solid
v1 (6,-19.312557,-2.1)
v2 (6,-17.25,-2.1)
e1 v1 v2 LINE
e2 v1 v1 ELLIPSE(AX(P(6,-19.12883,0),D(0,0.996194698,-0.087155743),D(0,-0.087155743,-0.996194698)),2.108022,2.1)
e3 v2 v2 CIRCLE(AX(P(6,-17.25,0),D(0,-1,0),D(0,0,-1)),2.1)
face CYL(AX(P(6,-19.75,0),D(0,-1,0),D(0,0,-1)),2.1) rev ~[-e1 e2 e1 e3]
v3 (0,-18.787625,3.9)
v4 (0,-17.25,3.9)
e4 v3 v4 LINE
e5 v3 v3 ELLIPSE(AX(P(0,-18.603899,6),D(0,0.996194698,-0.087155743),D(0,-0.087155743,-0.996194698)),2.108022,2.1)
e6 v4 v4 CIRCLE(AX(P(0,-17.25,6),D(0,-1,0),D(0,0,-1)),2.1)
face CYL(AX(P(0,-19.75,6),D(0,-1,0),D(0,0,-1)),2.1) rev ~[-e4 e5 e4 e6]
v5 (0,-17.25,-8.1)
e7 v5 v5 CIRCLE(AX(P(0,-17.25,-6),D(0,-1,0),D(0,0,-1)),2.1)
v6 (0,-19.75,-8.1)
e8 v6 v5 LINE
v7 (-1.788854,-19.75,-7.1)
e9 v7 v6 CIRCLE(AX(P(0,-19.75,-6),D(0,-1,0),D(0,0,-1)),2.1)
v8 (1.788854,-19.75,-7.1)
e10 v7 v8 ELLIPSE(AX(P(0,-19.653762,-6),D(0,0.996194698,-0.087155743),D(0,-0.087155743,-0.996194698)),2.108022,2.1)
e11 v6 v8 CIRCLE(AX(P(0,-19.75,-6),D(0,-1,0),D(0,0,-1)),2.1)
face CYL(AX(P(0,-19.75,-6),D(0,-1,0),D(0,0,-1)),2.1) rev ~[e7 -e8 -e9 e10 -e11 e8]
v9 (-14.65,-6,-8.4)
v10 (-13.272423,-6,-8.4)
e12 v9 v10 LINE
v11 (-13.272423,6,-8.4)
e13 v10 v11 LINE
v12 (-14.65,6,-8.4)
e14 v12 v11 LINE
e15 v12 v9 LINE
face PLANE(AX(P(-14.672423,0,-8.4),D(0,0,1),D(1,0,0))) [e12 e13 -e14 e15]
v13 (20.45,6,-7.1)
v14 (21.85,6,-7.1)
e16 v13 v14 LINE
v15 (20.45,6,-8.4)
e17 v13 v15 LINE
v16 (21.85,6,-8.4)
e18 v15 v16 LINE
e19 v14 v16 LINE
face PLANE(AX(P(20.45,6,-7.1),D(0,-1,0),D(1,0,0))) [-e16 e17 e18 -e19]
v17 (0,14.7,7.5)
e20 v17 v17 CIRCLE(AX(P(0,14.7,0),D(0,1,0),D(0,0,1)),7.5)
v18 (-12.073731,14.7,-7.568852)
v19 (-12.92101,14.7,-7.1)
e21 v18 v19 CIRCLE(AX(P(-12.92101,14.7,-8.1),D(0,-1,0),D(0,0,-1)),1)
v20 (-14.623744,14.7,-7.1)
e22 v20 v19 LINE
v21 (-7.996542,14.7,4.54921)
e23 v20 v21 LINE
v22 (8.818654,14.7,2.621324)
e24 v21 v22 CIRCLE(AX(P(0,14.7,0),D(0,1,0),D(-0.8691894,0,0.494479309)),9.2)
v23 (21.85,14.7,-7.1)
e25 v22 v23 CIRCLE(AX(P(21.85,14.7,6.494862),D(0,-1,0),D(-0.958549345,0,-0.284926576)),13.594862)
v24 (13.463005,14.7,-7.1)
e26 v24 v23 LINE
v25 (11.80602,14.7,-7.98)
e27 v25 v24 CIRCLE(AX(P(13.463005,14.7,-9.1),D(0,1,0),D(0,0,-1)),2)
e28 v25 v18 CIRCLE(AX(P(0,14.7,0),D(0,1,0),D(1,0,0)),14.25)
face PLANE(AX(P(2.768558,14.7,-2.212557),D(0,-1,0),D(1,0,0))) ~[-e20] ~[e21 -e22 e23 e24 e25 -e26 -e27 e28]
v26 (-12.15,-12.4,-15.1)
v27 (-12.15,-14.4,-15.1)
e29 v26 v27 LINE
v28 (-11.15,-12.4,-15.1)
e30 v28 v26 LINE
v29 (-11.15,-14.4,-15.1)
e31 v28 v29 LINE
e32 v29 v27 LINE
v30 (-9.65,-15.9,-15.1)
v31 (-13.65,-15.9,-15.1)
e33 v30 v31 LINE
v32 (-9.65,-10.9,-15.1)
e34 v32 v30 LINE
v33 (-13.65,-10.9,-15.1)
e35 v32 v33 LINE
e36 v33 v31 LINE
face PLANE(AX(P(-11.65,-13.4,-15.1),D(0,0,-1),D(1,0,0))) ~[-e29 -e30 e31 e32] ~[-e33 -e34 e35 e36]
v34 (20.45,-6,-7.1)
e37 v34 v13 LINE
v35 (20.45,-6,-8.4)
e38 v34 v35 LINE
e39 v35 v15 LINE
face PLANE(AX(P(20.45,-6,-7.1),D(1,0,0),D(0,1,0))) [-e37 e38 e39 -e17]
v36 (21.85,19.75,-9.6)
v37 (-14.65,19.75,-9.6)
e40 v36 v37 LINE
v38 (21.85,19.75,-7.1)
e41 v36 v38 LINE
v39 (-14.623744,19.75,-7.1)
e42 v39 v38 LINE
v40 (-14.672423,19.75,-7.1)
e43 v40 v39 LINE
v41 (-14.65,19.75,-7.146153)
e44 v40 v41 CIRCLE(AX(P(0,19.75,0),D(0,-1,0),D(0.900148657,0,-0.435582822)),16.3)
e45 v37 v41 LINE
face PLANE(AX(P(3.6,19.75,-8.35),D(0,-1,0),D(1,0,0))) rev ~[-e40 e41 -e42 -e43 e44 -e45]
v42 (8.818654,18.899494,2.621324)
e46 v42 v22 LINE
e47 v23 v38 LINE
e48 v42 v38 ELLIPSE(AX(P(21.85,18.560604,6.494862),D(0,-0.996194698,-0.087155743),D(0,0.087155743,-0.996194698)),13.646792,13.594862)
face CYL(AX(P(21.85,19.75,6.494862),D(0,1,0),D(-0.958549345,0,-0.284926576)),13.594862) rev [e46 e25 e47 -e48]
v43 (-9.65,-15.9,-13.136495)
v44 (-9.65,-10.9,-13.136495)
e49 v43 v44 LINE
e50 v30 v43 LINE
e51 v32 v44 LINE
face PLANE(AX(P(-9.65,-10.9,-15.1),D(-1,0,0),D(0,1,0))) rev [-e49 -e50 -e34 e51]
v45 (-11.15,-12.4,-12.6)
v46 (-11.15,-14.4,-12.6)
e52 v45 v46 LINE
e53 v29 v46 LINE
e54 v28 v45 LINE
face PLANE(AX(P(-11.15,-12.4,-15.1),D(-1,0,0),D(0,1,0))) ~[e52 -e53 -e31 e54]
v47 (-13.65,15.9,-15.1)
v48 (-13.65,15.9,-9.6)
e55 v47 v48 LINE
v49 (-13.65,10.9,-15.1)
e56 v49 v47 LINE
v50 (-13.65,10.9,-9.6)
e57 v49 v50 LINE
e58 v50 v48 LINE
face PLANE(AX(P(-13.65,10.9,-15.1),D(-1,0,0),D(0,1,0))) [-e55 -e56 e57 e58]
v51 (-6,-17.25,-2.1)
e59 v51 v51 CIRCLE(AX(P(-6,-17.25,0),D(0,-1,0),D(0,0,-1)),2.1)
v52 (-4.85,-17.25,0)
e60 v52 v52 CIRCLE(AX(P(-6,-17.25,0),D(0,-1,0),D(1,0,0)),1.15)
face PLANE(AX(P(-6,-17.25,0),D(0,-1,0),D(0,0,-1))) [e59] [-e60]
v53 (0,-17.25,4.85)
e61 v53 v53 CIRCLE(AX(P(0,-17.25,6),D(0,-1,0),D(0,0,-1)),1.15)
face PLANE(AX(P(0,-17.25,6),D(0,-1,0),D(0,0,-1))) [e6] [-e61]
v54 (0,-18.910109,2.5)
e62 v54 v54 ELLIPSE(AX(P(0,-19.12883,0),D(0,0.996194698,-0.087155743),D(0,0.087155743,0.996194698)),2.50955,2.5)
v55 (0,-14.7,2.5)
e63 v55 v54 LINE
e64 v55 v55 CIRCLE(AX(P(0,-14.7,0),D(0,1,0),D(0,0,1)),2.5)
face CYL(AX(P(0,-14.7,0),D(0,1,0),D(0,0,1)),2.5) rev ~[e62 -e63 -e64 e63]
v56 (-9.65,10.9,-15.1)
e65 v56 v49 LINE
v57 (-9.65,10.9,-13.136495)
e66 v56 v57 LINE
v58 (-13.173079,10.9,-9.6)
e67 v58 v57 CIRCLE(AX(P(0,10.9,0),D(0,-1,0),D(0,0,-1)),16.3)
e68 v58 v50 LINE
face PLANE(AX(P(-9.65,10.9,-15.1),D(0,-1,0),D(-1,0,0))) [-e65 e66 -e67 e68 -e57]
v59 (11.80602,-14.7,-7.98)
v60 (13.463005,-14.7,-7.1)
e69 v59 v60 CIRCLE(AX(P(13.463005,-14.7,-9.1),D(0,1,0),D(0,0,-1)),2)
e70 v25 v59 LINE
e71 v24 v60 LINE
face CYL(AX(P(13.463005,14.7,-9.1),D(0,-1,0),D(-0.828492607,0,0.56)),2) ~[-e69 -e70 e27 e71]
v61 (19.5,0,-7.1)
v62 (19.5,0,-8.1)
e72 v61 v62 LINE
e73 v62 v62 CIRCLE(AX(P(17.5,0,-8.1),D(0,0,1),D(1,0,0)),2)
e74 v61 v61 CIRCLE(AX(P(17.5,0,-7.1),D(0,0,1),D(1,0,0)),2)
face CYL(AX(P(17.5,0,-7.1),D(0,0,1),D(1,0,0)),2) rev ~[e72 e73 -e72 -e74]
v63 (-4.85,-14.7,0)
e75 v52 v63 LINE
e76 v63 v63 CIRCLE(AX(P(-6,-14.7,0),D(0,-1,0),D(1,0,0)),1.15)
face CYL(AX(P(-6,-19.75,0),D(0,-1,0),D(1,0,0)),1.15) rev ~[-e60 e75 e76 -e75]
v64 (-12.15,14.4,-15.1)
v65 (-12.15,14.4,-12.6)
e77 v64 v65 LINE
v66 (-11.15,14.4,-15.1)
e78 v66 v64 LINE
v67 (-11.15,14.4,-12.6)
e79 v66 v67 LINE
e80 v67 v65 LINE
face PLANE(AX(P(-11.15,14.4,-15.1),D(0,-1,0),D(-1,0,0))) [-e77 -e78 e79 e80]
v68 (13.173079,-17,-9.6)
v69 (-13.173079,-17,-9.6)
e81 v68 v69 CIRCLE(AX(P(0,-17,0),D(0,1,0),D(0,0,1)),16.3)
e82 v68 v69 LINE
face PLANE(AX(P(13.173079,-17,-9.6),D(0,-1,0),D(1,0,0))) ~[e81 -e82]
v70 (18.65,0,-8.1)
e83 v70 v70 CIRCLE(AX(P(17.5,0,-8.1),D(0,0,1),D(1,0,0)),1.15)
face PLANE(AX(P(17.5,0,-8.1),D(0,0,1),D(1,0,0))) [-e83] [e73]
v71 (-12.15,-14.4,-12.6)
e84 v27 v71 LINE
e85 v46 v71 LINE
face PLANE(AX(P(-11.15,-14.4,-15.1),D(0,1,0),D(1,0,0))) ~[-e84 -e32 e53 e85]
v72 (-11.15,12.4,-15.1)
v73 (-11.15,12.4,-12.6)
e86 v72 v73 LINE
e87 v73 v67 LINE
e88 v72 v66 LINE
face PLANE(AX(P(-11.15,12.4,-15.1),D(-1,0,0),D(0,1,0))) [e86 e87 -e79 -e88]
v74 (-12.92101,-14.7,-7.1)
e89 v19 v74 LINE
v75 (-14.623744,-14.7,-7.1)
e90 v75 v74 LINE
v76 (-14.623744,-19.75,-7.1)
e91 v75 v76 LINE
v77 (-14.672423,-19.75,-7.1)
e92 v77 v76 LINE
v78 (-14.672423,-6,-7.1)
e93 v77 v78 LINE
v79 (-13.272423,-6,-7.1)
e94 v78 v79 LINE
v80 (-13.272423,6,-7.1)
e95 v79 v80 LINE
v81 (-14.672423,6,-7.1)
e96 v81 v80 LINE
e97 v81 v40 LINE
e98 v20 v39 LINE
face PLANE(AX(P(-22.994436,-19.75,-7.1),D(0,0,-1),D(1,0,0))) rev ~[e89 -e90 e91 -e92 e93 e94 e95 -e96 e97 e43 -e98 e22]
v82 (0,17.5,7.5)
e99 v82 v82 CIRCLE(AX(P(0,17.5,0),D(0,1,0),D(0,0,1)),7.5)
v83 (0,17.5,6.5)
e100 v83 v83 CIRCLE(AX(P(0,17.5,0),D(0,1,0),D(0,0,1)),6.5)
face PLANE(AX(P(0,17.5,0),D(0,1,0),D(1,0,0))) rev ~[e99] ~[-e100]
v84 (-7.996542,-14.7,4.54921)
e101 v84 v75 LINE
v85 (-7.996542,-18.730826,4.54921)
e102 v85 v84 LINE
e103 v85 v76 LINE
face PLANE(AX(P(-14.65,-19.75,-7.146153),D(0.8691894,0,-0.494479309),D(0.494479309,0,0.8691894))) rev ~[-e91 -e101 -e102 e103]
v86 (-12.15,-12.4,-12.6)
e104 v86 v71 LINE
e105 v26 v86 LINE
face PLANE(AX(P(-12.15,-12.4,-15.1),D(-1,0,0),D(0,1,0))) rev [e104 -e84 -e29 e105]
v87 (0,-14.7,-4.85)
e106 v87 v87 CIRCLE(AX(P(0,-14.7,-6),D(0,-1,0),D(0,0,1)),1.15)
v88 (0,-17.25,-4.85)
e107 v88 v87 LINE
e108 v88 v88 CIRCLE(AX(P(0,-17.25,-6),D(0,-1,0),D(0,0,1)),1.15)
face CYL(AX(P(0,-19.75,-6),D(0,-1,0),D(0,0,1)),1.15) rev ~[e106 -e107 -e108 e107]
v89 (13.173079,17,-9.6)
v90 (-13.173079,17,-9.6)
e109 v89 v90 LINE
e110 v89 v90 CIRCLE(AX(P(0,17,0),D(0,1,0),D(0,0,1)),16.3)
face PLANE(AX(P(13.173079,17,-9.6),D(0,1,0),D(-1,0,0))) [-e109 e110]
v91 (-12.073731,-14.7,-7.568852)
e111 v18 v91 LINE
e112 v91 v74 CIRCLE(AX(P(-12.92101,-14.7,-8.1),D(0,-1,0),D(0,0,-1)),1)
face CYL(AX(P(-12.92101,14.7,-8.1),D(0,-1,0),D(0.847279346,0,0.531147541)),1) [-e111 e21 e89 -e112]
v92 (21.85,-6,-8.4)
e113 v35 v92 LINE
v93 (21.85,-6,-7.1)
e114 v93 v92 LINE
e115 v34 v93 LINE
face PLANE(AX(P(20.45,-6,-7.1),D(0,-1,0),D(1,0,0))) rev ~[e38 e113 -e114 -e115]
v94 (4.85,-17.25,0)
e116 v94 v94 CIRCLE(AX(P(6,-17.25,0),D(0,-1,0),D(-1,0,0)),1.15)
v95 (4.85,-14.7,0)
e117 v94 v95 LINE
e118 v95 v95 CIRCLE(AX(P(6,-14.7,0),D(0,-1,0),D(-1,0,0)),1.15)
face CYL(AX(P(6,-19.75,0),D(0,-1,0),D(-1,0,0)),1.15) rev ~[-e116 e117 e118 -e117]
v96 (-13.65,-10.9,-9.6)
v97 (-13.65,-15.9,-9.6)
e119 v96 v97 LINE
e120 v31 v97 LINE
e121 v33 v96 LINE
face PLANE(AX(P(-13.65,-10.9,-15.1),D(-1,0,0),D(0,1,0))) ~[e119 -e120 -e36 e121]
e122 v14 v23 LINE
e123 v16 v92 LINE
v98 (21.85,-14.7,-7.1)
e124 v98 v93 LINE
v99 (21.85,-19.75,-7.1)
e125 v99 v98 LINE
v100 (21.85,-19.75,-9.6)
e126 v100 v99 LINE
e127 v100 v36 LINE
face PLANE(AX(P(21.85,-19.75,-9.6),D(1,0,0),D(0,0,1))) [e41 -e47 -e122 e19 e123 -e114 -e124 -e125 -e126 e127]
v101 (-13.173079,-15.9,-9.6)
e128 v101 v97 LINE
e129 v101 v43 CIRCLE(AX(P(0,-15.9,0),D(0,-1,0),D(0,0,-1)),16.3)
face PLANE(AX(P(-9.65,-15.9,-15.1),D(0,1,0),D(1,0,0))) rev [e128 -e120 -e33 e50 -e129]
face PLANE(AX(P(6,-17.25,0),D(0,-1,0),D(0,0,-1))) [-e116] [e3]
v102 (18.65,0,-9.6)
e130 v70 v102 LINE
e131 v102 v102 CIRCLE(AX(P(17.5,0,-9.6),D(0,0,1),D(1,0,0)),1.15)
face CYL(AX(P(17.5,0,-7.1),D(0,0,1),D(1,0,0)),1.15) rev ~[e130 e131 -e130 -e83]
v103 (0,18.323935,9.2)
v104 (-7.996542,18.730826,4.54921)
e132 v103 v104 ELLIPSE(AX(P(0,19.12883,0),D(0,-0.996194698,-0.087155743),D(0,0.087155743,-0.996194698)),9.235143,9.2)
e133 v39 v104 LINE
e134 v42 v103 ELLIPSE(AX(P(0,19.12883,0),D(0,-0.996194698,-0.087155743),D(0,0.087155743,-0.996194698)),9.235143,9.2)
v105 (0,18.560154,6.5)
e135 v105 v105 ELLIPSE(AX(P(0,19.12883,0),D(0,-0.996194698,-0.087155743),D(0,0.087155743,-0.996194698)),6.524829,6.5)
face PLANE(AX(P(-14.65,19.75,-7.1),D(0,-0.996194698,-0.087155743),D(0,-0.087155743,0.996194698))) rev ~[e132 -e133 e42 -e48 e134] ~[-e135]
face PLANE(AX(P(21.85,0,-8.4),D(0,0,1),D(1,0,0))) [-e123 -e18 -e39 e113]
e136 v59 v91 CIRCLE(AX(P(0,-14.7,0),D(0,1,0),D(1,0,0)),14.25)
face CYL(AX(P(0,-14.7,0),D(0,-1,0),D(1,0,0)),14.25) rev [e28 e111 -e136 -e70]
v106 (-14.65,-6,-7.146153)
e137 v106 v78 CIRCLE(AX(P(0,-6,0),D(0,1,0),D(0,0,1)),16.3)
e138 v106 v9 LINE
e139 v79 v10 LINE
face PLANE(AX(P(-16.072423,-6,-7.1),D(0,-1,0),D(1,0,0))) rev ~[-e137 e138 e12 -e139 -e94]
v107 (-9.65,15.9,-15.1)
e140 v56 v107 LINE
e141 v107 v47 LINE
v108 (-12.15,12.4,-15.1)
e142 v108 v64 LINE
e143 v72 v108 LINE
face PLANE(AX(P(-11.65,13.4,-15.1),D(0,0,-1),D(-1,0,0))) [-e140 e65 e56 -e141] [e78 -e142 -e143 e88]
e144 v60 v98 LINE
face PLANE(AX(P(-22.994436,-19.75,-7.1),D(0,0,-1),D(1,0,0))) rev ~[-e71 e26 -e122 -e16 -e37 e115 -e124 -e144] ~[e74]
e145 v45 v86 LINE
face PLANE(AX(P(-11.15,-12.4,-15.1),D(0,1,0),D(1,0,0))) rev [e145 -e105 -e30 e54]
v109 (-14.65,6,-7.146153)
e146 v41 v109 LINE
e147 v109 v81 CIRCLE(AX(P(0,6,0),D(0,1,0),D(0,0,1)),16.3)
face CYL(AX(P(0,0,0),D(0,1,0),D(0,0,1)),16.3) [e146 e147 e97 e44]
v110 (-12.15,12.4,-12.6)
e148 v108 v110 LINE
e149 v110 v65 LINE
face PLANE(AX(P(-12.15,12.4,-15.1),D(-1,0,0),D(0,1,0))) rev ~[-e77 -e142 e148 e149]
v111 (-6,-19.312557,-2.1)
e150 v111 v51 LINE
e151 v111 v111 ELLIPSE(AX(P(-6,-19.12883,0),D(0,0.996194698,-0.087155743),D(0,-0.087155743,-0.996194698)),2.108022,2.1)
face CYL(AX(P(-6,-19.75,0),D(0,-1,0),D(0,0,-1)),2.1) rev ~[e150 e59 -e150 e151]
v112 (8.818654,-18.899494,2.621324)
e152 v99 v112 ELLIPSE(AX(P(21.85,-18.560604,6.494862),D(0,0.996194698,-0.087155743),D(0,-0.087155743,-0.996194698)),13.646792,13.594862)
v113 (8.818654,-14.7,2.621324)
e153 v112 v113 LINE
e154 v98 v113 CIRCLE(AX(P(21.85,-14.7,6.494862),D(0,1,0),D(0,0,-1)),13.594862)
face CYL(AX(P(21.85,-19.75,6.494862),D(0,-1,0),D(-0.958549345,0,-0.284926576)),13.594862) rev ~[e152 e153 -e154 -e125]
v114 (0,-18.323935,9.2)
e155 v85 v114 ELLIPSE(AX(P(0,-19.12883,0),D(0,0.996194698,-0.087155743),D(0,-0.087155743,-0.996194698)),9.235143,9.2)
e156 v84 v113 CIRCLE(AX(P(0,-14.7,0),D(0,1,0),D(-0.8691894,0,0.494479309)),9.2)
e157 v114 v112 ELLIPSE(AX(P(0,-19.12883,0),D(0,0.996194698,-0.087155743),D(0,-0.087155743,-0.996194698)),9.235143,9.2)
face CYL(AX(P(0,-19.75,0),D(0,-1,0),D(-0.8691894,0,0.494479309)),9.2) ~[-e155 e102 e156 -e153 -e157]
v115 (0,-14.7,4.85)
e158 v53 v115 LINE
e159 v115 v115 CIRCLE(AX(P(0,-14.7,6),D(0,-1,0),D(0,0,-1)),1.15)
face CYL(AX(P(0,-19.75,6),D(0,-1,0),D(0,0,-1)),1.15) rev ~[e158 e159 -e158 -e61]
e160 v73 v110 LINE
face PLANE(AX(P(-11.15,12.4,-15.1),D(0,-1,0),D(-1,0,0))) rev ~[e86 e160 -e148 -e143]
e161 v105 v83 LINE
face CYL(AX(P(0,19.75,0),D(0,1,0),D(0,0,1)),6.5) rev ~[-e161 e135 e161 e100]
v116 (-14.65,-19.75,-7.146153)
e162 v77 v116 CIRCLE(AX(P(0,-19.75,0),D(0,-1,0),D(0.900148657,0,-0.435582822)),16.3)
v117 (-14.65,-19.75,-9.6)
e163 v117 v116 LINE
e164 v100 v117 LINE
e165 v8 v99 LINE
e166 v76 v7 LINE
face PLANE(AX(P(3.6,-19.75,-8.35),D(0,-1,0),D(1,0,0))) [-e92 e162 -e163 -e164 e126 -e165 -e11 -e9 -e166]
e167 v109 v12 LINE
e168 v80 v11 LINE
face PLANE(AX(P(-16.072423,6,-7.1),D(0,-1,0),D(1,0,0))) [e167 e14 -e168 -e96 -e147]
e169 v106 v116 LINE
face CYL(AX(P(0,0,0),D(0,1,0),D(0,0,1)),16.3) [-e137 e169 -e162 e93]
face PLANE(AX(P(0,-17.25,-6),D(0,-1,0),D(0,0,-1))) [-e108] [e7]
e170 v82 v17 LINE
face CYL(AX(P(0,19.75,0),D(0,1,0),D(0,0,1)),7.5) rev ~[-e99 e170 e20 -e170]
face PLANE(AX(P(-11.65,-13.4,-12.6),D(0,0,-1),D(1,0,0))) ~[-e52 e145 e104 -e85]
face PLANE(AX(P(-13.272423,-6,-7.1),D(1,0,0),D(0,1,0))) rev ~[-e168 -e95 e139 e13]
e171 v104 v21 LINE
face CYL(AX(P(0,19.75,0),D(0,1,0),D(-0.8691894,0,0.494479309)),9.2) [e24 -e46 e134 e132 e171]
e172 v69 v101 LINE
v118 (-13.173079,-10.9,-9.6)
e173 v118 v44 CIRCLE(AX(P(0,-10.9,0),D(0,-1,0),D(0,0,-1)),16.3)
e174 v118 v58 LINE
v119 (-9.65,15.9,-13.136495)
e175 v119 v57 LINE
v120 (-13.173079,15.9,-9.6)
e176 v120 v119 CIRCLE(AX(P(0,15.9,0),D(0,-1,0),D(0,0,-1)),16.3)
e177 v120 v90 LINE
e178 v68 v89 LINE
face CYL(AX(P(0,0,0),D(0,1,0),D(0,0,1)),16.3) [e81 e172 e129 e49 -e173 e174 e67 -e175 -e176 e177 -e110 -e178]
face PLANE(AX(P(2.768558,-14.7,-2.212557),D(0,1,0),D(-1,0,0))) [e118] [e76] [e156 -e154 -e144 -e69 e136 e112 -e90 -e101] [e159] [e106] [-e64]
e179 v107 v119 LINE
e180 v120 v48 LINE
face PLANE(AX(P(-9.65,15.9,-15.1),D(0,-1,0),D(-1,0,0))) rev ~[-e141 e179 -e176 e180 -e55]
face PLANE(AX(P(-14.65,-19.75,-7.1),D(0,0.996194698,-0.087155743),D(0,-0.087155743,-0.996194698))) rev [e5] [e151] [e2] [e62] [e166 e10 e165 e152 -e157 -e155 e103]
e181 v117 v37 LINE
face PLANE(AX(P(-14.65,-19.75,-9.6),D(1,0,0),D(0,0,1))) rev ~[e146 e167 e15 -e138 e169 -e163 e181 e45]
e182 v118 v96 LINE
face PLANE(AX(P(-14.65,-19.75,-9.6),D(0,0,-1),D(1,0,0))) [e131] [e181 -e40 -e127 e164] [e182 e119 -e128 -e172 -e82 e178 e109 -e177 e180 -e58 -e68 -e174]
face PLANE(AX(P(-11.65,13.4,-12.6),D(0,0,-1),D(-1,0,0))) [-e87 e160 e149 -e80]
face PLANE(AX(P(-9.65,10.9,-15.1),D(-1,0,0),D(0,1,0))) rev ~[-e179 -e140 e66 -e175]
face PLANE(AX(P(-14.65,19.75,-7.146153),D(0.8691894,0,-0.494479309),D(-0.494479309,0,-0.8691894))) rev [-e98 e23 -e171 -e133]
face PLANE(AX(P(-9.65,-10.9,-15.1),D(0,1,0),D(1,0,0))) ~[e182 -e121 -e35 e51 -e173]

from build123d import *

# Parameters (mm, degrees)
SKETCH_1_R               = 16.3
EXTRUDE_1_DEPTH          = 19.75
SKETCH_2_W               = 36.5
SKETCH_2_H               = 2.5
EXTRUDE_2_DEPTH          = 39.5
SKETCH_3_W               = 44.844436064
SKETCH_3_H               = 25.506740045
CUT_EXTRUDE_1_DEPTH      = 50
EXTRUDE_3_DEPTH          = 5.05
SKETCH_5_R               = 14.25
CUT_EXTRUDE_2_DEPTH      = 29.4
SKETCH_6_R               = 2.5
CUT_EXTRUDE_3_DEPTH      = 44.930797853
CUT_EXTRUDE_6_REACH      = 49.993
SKETCH_9_R               = 7.5
SKETCH_12_R              = 1.15
CUT_EXTRUDE_9_DEPTH      = 34.662664779
SKETCH_13_R              = 2
CUT_EXTRUDE_10_DEPTH     = 1
SKETCH_14_W              = 2.8
SKETCH_14_H              = 12
CUT_EXTRUDE_11_DEPTH     = 1.3
SKETCH_15_W              = 2.8
SKETCH_15_H              = 12
CUT_EXTRUDE_12_DEPTH     = 1.3
EXTRUDE_5_REACH          = 40.183
EXTRUDE_5_END_RADIUS     = 16.3
SKETCH_16_W              = 4
SKETCH_16_H              = 5
SKETCH_17_W              = 1
SKETCH_17_H              = 2
CUT_EXTRUDE_13_DEPTH     = 2.5
SKETCH_19_R              = 8.51898124
SKETCH_19_R_2            = 6.5
EXTRUDE_6_DEPTH          = 2.25
CUT_EXTRUDE_18_REACH     = 49.993
SKETCH_20_R              = 1.15
PATTERN_CIRCULAR_1_COUNT = 4
CUT_EXTRUDE_8_DEPTH      = 45.587021654
SKETCH_18_W              = 26.346157216
SKETCH_18_H              = 2.75
CUT_EXTRUDE_16_DEPTH     = 12.5
FILLET_1_R               = 2
FILLET_2_R               = 1
SKETCH_21_R              = 2.1
CUT_EXTRUDE_19_DEPTH     = 2.5


with BuildPart() as part:
    # 草图1 → 凸台-拉伸1 (new, symmetric)
    with BuildSketch(Plane(origin=(0, 0, 0), x_dir=(1, 0, 0), z_dir=(0, 1, 0))):
        with Locations(Location((0, 0, 0), (0, 0, 270))):
            Circle(SKETCH_1_R)
    extrude(amount=EXTRUDE_1_DEPTH, both=True)

    # 草图2 → 凸台-拉伸2 (add, through all)
    with BuildSketch(Plane.XZ.offset(19.75)):
        with Locations((3.6, -8.35)):
            Rectangle(SKETCH_2_W, SKETCH_2_H)
    extrude(amount=-EXTRUDE_2_DEPTH)

    # 草图3 → 切除-拉伸1 (cut)
    with BuildSketch(Plane.XZ.offset(19.75)):
        with Locations((-0.572218032, 5.653370022)):
            Rectangle(SKETCH_3_W, SKETCH_3_H)
    extrude(amount=-CUT_EXTRUDE_1_DEPTH, mode=Mode.SUBTRACT)

    # 草图4 → 凸台-拉伸3 (add)
    with BuildSketch(Plane.XZ.offset(19.75)):
        with BuildLine():
            Line((-14.65, -7.146152811), (-7.996542478, 4.549209646))
            ThreePointArc((-7.996542478, 4.549209646), (1.047927533, 9.140122969), (8.818653972, 2.621324497))
            ThreePointArc((8.818653972, 2.621324497), (13.721037439, -4.401937543), (21.85, -7.1))
            Line((21.85, -7.1), (-14.65, -7.146152811))
        make_face()
    extrude_3 = extrude(amount=-EXTRUDE_3_DEPTH)

    # 镜向1: 凸台-拉伸3 across plane
    add(extrude_3.mirror(Plane.ZX))

    # 草图5 → 切除-拉伸2 (cut)
    with BuildSketch(Plane(origin=(0, -14.7, 0), x_dir=(1, 0, 0), z_dir=(0, 1, 0))):
        Circle(SKETCH_5_R)
    extrude(amount=CUT_EXTRUDE_2_DEPTH, mode=Mode.SUBTRACT)

    # 草图6 → 切除-拉伸3 (cut, through all)
    with BuildSketch(Plane(origin=(0, -14.7, 0), x_dir=(1, 0, 0), z_dir=(0, 1, 0))):
        with Locations(Location((0, 0, 0), (0, 0, 270))):
            Circle(SKETCH_6_R)
    extrude(amount=-CUT_EXTRUDE_3_DEPTH, mode=Mode.SUBTRACT)

    # 草图9 → 切除-拉伸6 (cut, up to next)
    with BuildSketch(Plane(origin=(0, 19.75, 0), x_dir=(1, 0, 0), z_dir=(0, 1, 0)), mode=Mode.PRIVATE) as cut_extrude_6_sk1:
        with Locations(Location((0, 0, 0), (0, 0, 270))):
            Circle(SKETCH_9_R)
    cut_extrude_6_tool1 = extrude(cut_extrude_6_sk1.sketch, amount=-CUT_EXTRUDE_6_REACH, mode=Mode.PRIVATE) & part.part
    add(cut_extrude_6_tool1.solids().sort_by_distance((0, 19.75, 0))[0], mode=Mode.SUBTRACT)

    # 草图12 → 切除-拉伸9 (cut, through all)
    with BuildSketch(Plane.XY.offset(-7.1)):
        with Locations((17.5, 0)):
            Circle(SKETCH_12_R)
    extrude(amount=-CUT_EXTRUDE_9_DEPTH, mode=Mode.SUBTRACT)

    # 草图13 → 切除-拉伸10 (cut)
    with BuildSketch(Plane.XY.offset(-7.1)):
        with Locations((17.5, 0)):
            Circle(SKETCH_13_R)
    extrude(amount=-CUT_EXTRUDE_10_DEPTH, mode=Mode.SUBTRACT)

    # 草图14 → 切除-拉伸11 (cut)
    with BuildSketch(Plane.XY.offset(-7.1)):
        with Locations((21.85, 0)):
            Rectangle(SKETCH_14_W, SKETCH_14_H)
    extrude(amount=-CUT_EXTRUDE_11_DEPTH, mode=Mode.SUBTRACT)

    # 草图15 → 切除-拉伸12 (cut)
    with BuildSketch(Plane.XY.offset(-7.1)):
        with Locations((-14.672423113, 0)):
            Rectangle(SKETCH_15_W, SKETCH_15_H)
    extrude(amount=-CUT_EXTRUDE_12_DEPTH, mode=Mode.SUBTRACT)

    # 凸台-拉伸5: up to this cylinder (the profile starts outside it)
    extrude_5_end = Plane(origin=(0, 13.4, 0), z_dir=(0, -1, 0)) * Cylinder(EXTRUDE_5_END_RADIUS, 113.966, mode=Mode.PRIVATE)
    # 草图16 → 凸台-拉伸5 (add, up to the surface)
    with BuildSketch(Plane(origin=(0, 0, -15.1), x_dir=(-1, 0, 0), z_dir=(0, 0, -1)), mode=Mode.PRIVATE) as extrude_5_sk1:
        with Locations((11.65, 13.4)):
            Rectangle(SKETCH_16_W, SKETCH_16_H)
    extrude_5_tool1 = extrude(extrude_5_sk1.sketch, amount=-EXTRUDE_5_REACH, mode=Mode.PRIVATE) - extrude_5_end
    extrude_5 = extrude_5_tool1.solids().sort_by_distance((-11.65, 13.4, -15.1))[0]
    add(extrude_5)

    # 镜向4: 凸台-拉伸5 across plane
    add(extrude_5.mirror(Plane.ZX))

    # 草图17 → 切除-拉伸13 (cut)
    with BuildSketch(Plane(origin=(0, 0, -15.1), x_dir=(-1, 0, 0), z_dir=(0, 0, -1))):
        with Locations((11.65, 13.4)):
            Rectangle(SKETCH_17_W, SKETCH_17_H)
    cut_extrude_13 = extrude(amount=-CUT_EXTRUDE_13_DEPTH, mode=Mode.SUBTRACT)

    # 镜向5: 切除-拉伸13 across plane
    add(cut_extrude_13.mirror(Plane.ZX), mode=Mode.SUBTRACT)

    # 草图19 → 凸台-拉伸6 (add)
    with BuildSketch(Plane(origin=(0, 19.75, 0), x_dir=(1, 0, 0), z_dir=(0, 1, 0))):
        Circle(SKETCH_19_R)
        with Locations(Location((0, 0, 0), (0, 0, 270))):
            Circle(SKETCH_19_R_2, mode=Mode.SUBTRACT)
    extrude(amount=-EXTRUDE_6_DEPTH)

    # 草图20 → 切除-拉伸18 (cut, up to next)
    with BuildSketch(Plane.XZ.offset(19.75), mode=Mode.PRIVATE) as cut_extrude_18_sk1:
        with Locations(Location((0, 6, 0), (0, 0, 270))):
            Circle(SKETCH_20_R)
    cut_extrude_18_tool1 = extrude(cut_extrude_18_sk1.sketch, amount=-CUT_EXTRUDE_18_REACH, mode=Mode.PRIVATE) & part.part
    cut_extrude_18 = cut_extrude_18_tool1.solids().sort_by_distance((0, -19.75, 6))[0]
    add(cut_extrude_18, mode=Mode.SUBTRACT)

    # 阵列(圆周)1: 切除-拉伸18 ×4 about axis
    pattern_circular_1_axis = Axis((0, 0, 0), (0, 1, 0))
    for i in range(1, PATTERN_CIRCULAR_1_COUNT):
        add(cut_extrude_18.rotate(pattern_circular_1_axis, i * 360 / PATTERN_CIRCULAR_1_COUNT), mode=Mode.SUBTRACT)

    # 草图7 → 切除-拉伸8 (cut, through all)
    with BuildSketch(Plane.ZY.offset(14.65)):
        Polygon((-7.1, 19.75), (9.2, 18.323934785), (9.2, 19.75), align=None)
    cut_extrude_8 = extrude(amount=-CUT_EXTRUDE_8_DEPTH, mode=Mode.SUBTRACT)

    # 镜向3: 切除-拉伸8 across plane
    add(cut_extrude_8.mirror(Plane.ZX), mode=Mode.SUBTRACT)

    # 草图18 → 切除-拉伸16 (cut)
    with BuildSketch(Plane(origin=(0, 0, -9.6), x_dir=(-1, 0, 0), z_dir=(0, 0, -1))):
        with Locations((0, 18.375)):
            Rectangle(SKETCH_18_W, SKETCH_18_H)
    cut_extrude_16 = extrude(amount=CUT_EXTRUDE_16_DEPTH, mode=Mode.SUBTRACT)

    # 镜向6: 切除-拉伸16 across plane
    add(cut_extrude_16.mirror(Plane.ZX), mode=Mode.SUBTRACT)

    # 圆角1
    fillet_1_edges = [part.edges().sort_by_distance(p)[0] for p in [
        (12.355262037, 0, -7.1),
    ]]
    fillet(fillet_1_edges, radius=FILLET_1_R)

    # 圆角2
    fillet_2_edges = [part.edges().sort_by_distance(p)[0] for p in [
        (-12.355262037, 0, -7.1),
    ]]
    fillet(fillet_2_edges, radius=FILLET_2_R)

    # 草图21 → 切除-拉伸19 (cut)
    with BuildSketch(Plane.XZ.offset(19.75)):
        with Locations(Location((0, 6, 0), (0, 0, 270))):
            Circle(SKETCH_21_R)
        with Locations(Location((-6, 0, 0), (0, 0, 270))):
            Circle(SKETCH_21_R)
        with Locations(Location((6, 0, 0), (0, 0, 270))):
            Circle(SKETCH_21_R)
        with Locations(Location((0, -6, 0), (0, 0, 270))):
            Circle(SKETCH_21_R)
    extrude(amount=-CUT_EXTRUDE_19_DEPTH, mode=Mode.SUBTRACT)


solid = part.part
